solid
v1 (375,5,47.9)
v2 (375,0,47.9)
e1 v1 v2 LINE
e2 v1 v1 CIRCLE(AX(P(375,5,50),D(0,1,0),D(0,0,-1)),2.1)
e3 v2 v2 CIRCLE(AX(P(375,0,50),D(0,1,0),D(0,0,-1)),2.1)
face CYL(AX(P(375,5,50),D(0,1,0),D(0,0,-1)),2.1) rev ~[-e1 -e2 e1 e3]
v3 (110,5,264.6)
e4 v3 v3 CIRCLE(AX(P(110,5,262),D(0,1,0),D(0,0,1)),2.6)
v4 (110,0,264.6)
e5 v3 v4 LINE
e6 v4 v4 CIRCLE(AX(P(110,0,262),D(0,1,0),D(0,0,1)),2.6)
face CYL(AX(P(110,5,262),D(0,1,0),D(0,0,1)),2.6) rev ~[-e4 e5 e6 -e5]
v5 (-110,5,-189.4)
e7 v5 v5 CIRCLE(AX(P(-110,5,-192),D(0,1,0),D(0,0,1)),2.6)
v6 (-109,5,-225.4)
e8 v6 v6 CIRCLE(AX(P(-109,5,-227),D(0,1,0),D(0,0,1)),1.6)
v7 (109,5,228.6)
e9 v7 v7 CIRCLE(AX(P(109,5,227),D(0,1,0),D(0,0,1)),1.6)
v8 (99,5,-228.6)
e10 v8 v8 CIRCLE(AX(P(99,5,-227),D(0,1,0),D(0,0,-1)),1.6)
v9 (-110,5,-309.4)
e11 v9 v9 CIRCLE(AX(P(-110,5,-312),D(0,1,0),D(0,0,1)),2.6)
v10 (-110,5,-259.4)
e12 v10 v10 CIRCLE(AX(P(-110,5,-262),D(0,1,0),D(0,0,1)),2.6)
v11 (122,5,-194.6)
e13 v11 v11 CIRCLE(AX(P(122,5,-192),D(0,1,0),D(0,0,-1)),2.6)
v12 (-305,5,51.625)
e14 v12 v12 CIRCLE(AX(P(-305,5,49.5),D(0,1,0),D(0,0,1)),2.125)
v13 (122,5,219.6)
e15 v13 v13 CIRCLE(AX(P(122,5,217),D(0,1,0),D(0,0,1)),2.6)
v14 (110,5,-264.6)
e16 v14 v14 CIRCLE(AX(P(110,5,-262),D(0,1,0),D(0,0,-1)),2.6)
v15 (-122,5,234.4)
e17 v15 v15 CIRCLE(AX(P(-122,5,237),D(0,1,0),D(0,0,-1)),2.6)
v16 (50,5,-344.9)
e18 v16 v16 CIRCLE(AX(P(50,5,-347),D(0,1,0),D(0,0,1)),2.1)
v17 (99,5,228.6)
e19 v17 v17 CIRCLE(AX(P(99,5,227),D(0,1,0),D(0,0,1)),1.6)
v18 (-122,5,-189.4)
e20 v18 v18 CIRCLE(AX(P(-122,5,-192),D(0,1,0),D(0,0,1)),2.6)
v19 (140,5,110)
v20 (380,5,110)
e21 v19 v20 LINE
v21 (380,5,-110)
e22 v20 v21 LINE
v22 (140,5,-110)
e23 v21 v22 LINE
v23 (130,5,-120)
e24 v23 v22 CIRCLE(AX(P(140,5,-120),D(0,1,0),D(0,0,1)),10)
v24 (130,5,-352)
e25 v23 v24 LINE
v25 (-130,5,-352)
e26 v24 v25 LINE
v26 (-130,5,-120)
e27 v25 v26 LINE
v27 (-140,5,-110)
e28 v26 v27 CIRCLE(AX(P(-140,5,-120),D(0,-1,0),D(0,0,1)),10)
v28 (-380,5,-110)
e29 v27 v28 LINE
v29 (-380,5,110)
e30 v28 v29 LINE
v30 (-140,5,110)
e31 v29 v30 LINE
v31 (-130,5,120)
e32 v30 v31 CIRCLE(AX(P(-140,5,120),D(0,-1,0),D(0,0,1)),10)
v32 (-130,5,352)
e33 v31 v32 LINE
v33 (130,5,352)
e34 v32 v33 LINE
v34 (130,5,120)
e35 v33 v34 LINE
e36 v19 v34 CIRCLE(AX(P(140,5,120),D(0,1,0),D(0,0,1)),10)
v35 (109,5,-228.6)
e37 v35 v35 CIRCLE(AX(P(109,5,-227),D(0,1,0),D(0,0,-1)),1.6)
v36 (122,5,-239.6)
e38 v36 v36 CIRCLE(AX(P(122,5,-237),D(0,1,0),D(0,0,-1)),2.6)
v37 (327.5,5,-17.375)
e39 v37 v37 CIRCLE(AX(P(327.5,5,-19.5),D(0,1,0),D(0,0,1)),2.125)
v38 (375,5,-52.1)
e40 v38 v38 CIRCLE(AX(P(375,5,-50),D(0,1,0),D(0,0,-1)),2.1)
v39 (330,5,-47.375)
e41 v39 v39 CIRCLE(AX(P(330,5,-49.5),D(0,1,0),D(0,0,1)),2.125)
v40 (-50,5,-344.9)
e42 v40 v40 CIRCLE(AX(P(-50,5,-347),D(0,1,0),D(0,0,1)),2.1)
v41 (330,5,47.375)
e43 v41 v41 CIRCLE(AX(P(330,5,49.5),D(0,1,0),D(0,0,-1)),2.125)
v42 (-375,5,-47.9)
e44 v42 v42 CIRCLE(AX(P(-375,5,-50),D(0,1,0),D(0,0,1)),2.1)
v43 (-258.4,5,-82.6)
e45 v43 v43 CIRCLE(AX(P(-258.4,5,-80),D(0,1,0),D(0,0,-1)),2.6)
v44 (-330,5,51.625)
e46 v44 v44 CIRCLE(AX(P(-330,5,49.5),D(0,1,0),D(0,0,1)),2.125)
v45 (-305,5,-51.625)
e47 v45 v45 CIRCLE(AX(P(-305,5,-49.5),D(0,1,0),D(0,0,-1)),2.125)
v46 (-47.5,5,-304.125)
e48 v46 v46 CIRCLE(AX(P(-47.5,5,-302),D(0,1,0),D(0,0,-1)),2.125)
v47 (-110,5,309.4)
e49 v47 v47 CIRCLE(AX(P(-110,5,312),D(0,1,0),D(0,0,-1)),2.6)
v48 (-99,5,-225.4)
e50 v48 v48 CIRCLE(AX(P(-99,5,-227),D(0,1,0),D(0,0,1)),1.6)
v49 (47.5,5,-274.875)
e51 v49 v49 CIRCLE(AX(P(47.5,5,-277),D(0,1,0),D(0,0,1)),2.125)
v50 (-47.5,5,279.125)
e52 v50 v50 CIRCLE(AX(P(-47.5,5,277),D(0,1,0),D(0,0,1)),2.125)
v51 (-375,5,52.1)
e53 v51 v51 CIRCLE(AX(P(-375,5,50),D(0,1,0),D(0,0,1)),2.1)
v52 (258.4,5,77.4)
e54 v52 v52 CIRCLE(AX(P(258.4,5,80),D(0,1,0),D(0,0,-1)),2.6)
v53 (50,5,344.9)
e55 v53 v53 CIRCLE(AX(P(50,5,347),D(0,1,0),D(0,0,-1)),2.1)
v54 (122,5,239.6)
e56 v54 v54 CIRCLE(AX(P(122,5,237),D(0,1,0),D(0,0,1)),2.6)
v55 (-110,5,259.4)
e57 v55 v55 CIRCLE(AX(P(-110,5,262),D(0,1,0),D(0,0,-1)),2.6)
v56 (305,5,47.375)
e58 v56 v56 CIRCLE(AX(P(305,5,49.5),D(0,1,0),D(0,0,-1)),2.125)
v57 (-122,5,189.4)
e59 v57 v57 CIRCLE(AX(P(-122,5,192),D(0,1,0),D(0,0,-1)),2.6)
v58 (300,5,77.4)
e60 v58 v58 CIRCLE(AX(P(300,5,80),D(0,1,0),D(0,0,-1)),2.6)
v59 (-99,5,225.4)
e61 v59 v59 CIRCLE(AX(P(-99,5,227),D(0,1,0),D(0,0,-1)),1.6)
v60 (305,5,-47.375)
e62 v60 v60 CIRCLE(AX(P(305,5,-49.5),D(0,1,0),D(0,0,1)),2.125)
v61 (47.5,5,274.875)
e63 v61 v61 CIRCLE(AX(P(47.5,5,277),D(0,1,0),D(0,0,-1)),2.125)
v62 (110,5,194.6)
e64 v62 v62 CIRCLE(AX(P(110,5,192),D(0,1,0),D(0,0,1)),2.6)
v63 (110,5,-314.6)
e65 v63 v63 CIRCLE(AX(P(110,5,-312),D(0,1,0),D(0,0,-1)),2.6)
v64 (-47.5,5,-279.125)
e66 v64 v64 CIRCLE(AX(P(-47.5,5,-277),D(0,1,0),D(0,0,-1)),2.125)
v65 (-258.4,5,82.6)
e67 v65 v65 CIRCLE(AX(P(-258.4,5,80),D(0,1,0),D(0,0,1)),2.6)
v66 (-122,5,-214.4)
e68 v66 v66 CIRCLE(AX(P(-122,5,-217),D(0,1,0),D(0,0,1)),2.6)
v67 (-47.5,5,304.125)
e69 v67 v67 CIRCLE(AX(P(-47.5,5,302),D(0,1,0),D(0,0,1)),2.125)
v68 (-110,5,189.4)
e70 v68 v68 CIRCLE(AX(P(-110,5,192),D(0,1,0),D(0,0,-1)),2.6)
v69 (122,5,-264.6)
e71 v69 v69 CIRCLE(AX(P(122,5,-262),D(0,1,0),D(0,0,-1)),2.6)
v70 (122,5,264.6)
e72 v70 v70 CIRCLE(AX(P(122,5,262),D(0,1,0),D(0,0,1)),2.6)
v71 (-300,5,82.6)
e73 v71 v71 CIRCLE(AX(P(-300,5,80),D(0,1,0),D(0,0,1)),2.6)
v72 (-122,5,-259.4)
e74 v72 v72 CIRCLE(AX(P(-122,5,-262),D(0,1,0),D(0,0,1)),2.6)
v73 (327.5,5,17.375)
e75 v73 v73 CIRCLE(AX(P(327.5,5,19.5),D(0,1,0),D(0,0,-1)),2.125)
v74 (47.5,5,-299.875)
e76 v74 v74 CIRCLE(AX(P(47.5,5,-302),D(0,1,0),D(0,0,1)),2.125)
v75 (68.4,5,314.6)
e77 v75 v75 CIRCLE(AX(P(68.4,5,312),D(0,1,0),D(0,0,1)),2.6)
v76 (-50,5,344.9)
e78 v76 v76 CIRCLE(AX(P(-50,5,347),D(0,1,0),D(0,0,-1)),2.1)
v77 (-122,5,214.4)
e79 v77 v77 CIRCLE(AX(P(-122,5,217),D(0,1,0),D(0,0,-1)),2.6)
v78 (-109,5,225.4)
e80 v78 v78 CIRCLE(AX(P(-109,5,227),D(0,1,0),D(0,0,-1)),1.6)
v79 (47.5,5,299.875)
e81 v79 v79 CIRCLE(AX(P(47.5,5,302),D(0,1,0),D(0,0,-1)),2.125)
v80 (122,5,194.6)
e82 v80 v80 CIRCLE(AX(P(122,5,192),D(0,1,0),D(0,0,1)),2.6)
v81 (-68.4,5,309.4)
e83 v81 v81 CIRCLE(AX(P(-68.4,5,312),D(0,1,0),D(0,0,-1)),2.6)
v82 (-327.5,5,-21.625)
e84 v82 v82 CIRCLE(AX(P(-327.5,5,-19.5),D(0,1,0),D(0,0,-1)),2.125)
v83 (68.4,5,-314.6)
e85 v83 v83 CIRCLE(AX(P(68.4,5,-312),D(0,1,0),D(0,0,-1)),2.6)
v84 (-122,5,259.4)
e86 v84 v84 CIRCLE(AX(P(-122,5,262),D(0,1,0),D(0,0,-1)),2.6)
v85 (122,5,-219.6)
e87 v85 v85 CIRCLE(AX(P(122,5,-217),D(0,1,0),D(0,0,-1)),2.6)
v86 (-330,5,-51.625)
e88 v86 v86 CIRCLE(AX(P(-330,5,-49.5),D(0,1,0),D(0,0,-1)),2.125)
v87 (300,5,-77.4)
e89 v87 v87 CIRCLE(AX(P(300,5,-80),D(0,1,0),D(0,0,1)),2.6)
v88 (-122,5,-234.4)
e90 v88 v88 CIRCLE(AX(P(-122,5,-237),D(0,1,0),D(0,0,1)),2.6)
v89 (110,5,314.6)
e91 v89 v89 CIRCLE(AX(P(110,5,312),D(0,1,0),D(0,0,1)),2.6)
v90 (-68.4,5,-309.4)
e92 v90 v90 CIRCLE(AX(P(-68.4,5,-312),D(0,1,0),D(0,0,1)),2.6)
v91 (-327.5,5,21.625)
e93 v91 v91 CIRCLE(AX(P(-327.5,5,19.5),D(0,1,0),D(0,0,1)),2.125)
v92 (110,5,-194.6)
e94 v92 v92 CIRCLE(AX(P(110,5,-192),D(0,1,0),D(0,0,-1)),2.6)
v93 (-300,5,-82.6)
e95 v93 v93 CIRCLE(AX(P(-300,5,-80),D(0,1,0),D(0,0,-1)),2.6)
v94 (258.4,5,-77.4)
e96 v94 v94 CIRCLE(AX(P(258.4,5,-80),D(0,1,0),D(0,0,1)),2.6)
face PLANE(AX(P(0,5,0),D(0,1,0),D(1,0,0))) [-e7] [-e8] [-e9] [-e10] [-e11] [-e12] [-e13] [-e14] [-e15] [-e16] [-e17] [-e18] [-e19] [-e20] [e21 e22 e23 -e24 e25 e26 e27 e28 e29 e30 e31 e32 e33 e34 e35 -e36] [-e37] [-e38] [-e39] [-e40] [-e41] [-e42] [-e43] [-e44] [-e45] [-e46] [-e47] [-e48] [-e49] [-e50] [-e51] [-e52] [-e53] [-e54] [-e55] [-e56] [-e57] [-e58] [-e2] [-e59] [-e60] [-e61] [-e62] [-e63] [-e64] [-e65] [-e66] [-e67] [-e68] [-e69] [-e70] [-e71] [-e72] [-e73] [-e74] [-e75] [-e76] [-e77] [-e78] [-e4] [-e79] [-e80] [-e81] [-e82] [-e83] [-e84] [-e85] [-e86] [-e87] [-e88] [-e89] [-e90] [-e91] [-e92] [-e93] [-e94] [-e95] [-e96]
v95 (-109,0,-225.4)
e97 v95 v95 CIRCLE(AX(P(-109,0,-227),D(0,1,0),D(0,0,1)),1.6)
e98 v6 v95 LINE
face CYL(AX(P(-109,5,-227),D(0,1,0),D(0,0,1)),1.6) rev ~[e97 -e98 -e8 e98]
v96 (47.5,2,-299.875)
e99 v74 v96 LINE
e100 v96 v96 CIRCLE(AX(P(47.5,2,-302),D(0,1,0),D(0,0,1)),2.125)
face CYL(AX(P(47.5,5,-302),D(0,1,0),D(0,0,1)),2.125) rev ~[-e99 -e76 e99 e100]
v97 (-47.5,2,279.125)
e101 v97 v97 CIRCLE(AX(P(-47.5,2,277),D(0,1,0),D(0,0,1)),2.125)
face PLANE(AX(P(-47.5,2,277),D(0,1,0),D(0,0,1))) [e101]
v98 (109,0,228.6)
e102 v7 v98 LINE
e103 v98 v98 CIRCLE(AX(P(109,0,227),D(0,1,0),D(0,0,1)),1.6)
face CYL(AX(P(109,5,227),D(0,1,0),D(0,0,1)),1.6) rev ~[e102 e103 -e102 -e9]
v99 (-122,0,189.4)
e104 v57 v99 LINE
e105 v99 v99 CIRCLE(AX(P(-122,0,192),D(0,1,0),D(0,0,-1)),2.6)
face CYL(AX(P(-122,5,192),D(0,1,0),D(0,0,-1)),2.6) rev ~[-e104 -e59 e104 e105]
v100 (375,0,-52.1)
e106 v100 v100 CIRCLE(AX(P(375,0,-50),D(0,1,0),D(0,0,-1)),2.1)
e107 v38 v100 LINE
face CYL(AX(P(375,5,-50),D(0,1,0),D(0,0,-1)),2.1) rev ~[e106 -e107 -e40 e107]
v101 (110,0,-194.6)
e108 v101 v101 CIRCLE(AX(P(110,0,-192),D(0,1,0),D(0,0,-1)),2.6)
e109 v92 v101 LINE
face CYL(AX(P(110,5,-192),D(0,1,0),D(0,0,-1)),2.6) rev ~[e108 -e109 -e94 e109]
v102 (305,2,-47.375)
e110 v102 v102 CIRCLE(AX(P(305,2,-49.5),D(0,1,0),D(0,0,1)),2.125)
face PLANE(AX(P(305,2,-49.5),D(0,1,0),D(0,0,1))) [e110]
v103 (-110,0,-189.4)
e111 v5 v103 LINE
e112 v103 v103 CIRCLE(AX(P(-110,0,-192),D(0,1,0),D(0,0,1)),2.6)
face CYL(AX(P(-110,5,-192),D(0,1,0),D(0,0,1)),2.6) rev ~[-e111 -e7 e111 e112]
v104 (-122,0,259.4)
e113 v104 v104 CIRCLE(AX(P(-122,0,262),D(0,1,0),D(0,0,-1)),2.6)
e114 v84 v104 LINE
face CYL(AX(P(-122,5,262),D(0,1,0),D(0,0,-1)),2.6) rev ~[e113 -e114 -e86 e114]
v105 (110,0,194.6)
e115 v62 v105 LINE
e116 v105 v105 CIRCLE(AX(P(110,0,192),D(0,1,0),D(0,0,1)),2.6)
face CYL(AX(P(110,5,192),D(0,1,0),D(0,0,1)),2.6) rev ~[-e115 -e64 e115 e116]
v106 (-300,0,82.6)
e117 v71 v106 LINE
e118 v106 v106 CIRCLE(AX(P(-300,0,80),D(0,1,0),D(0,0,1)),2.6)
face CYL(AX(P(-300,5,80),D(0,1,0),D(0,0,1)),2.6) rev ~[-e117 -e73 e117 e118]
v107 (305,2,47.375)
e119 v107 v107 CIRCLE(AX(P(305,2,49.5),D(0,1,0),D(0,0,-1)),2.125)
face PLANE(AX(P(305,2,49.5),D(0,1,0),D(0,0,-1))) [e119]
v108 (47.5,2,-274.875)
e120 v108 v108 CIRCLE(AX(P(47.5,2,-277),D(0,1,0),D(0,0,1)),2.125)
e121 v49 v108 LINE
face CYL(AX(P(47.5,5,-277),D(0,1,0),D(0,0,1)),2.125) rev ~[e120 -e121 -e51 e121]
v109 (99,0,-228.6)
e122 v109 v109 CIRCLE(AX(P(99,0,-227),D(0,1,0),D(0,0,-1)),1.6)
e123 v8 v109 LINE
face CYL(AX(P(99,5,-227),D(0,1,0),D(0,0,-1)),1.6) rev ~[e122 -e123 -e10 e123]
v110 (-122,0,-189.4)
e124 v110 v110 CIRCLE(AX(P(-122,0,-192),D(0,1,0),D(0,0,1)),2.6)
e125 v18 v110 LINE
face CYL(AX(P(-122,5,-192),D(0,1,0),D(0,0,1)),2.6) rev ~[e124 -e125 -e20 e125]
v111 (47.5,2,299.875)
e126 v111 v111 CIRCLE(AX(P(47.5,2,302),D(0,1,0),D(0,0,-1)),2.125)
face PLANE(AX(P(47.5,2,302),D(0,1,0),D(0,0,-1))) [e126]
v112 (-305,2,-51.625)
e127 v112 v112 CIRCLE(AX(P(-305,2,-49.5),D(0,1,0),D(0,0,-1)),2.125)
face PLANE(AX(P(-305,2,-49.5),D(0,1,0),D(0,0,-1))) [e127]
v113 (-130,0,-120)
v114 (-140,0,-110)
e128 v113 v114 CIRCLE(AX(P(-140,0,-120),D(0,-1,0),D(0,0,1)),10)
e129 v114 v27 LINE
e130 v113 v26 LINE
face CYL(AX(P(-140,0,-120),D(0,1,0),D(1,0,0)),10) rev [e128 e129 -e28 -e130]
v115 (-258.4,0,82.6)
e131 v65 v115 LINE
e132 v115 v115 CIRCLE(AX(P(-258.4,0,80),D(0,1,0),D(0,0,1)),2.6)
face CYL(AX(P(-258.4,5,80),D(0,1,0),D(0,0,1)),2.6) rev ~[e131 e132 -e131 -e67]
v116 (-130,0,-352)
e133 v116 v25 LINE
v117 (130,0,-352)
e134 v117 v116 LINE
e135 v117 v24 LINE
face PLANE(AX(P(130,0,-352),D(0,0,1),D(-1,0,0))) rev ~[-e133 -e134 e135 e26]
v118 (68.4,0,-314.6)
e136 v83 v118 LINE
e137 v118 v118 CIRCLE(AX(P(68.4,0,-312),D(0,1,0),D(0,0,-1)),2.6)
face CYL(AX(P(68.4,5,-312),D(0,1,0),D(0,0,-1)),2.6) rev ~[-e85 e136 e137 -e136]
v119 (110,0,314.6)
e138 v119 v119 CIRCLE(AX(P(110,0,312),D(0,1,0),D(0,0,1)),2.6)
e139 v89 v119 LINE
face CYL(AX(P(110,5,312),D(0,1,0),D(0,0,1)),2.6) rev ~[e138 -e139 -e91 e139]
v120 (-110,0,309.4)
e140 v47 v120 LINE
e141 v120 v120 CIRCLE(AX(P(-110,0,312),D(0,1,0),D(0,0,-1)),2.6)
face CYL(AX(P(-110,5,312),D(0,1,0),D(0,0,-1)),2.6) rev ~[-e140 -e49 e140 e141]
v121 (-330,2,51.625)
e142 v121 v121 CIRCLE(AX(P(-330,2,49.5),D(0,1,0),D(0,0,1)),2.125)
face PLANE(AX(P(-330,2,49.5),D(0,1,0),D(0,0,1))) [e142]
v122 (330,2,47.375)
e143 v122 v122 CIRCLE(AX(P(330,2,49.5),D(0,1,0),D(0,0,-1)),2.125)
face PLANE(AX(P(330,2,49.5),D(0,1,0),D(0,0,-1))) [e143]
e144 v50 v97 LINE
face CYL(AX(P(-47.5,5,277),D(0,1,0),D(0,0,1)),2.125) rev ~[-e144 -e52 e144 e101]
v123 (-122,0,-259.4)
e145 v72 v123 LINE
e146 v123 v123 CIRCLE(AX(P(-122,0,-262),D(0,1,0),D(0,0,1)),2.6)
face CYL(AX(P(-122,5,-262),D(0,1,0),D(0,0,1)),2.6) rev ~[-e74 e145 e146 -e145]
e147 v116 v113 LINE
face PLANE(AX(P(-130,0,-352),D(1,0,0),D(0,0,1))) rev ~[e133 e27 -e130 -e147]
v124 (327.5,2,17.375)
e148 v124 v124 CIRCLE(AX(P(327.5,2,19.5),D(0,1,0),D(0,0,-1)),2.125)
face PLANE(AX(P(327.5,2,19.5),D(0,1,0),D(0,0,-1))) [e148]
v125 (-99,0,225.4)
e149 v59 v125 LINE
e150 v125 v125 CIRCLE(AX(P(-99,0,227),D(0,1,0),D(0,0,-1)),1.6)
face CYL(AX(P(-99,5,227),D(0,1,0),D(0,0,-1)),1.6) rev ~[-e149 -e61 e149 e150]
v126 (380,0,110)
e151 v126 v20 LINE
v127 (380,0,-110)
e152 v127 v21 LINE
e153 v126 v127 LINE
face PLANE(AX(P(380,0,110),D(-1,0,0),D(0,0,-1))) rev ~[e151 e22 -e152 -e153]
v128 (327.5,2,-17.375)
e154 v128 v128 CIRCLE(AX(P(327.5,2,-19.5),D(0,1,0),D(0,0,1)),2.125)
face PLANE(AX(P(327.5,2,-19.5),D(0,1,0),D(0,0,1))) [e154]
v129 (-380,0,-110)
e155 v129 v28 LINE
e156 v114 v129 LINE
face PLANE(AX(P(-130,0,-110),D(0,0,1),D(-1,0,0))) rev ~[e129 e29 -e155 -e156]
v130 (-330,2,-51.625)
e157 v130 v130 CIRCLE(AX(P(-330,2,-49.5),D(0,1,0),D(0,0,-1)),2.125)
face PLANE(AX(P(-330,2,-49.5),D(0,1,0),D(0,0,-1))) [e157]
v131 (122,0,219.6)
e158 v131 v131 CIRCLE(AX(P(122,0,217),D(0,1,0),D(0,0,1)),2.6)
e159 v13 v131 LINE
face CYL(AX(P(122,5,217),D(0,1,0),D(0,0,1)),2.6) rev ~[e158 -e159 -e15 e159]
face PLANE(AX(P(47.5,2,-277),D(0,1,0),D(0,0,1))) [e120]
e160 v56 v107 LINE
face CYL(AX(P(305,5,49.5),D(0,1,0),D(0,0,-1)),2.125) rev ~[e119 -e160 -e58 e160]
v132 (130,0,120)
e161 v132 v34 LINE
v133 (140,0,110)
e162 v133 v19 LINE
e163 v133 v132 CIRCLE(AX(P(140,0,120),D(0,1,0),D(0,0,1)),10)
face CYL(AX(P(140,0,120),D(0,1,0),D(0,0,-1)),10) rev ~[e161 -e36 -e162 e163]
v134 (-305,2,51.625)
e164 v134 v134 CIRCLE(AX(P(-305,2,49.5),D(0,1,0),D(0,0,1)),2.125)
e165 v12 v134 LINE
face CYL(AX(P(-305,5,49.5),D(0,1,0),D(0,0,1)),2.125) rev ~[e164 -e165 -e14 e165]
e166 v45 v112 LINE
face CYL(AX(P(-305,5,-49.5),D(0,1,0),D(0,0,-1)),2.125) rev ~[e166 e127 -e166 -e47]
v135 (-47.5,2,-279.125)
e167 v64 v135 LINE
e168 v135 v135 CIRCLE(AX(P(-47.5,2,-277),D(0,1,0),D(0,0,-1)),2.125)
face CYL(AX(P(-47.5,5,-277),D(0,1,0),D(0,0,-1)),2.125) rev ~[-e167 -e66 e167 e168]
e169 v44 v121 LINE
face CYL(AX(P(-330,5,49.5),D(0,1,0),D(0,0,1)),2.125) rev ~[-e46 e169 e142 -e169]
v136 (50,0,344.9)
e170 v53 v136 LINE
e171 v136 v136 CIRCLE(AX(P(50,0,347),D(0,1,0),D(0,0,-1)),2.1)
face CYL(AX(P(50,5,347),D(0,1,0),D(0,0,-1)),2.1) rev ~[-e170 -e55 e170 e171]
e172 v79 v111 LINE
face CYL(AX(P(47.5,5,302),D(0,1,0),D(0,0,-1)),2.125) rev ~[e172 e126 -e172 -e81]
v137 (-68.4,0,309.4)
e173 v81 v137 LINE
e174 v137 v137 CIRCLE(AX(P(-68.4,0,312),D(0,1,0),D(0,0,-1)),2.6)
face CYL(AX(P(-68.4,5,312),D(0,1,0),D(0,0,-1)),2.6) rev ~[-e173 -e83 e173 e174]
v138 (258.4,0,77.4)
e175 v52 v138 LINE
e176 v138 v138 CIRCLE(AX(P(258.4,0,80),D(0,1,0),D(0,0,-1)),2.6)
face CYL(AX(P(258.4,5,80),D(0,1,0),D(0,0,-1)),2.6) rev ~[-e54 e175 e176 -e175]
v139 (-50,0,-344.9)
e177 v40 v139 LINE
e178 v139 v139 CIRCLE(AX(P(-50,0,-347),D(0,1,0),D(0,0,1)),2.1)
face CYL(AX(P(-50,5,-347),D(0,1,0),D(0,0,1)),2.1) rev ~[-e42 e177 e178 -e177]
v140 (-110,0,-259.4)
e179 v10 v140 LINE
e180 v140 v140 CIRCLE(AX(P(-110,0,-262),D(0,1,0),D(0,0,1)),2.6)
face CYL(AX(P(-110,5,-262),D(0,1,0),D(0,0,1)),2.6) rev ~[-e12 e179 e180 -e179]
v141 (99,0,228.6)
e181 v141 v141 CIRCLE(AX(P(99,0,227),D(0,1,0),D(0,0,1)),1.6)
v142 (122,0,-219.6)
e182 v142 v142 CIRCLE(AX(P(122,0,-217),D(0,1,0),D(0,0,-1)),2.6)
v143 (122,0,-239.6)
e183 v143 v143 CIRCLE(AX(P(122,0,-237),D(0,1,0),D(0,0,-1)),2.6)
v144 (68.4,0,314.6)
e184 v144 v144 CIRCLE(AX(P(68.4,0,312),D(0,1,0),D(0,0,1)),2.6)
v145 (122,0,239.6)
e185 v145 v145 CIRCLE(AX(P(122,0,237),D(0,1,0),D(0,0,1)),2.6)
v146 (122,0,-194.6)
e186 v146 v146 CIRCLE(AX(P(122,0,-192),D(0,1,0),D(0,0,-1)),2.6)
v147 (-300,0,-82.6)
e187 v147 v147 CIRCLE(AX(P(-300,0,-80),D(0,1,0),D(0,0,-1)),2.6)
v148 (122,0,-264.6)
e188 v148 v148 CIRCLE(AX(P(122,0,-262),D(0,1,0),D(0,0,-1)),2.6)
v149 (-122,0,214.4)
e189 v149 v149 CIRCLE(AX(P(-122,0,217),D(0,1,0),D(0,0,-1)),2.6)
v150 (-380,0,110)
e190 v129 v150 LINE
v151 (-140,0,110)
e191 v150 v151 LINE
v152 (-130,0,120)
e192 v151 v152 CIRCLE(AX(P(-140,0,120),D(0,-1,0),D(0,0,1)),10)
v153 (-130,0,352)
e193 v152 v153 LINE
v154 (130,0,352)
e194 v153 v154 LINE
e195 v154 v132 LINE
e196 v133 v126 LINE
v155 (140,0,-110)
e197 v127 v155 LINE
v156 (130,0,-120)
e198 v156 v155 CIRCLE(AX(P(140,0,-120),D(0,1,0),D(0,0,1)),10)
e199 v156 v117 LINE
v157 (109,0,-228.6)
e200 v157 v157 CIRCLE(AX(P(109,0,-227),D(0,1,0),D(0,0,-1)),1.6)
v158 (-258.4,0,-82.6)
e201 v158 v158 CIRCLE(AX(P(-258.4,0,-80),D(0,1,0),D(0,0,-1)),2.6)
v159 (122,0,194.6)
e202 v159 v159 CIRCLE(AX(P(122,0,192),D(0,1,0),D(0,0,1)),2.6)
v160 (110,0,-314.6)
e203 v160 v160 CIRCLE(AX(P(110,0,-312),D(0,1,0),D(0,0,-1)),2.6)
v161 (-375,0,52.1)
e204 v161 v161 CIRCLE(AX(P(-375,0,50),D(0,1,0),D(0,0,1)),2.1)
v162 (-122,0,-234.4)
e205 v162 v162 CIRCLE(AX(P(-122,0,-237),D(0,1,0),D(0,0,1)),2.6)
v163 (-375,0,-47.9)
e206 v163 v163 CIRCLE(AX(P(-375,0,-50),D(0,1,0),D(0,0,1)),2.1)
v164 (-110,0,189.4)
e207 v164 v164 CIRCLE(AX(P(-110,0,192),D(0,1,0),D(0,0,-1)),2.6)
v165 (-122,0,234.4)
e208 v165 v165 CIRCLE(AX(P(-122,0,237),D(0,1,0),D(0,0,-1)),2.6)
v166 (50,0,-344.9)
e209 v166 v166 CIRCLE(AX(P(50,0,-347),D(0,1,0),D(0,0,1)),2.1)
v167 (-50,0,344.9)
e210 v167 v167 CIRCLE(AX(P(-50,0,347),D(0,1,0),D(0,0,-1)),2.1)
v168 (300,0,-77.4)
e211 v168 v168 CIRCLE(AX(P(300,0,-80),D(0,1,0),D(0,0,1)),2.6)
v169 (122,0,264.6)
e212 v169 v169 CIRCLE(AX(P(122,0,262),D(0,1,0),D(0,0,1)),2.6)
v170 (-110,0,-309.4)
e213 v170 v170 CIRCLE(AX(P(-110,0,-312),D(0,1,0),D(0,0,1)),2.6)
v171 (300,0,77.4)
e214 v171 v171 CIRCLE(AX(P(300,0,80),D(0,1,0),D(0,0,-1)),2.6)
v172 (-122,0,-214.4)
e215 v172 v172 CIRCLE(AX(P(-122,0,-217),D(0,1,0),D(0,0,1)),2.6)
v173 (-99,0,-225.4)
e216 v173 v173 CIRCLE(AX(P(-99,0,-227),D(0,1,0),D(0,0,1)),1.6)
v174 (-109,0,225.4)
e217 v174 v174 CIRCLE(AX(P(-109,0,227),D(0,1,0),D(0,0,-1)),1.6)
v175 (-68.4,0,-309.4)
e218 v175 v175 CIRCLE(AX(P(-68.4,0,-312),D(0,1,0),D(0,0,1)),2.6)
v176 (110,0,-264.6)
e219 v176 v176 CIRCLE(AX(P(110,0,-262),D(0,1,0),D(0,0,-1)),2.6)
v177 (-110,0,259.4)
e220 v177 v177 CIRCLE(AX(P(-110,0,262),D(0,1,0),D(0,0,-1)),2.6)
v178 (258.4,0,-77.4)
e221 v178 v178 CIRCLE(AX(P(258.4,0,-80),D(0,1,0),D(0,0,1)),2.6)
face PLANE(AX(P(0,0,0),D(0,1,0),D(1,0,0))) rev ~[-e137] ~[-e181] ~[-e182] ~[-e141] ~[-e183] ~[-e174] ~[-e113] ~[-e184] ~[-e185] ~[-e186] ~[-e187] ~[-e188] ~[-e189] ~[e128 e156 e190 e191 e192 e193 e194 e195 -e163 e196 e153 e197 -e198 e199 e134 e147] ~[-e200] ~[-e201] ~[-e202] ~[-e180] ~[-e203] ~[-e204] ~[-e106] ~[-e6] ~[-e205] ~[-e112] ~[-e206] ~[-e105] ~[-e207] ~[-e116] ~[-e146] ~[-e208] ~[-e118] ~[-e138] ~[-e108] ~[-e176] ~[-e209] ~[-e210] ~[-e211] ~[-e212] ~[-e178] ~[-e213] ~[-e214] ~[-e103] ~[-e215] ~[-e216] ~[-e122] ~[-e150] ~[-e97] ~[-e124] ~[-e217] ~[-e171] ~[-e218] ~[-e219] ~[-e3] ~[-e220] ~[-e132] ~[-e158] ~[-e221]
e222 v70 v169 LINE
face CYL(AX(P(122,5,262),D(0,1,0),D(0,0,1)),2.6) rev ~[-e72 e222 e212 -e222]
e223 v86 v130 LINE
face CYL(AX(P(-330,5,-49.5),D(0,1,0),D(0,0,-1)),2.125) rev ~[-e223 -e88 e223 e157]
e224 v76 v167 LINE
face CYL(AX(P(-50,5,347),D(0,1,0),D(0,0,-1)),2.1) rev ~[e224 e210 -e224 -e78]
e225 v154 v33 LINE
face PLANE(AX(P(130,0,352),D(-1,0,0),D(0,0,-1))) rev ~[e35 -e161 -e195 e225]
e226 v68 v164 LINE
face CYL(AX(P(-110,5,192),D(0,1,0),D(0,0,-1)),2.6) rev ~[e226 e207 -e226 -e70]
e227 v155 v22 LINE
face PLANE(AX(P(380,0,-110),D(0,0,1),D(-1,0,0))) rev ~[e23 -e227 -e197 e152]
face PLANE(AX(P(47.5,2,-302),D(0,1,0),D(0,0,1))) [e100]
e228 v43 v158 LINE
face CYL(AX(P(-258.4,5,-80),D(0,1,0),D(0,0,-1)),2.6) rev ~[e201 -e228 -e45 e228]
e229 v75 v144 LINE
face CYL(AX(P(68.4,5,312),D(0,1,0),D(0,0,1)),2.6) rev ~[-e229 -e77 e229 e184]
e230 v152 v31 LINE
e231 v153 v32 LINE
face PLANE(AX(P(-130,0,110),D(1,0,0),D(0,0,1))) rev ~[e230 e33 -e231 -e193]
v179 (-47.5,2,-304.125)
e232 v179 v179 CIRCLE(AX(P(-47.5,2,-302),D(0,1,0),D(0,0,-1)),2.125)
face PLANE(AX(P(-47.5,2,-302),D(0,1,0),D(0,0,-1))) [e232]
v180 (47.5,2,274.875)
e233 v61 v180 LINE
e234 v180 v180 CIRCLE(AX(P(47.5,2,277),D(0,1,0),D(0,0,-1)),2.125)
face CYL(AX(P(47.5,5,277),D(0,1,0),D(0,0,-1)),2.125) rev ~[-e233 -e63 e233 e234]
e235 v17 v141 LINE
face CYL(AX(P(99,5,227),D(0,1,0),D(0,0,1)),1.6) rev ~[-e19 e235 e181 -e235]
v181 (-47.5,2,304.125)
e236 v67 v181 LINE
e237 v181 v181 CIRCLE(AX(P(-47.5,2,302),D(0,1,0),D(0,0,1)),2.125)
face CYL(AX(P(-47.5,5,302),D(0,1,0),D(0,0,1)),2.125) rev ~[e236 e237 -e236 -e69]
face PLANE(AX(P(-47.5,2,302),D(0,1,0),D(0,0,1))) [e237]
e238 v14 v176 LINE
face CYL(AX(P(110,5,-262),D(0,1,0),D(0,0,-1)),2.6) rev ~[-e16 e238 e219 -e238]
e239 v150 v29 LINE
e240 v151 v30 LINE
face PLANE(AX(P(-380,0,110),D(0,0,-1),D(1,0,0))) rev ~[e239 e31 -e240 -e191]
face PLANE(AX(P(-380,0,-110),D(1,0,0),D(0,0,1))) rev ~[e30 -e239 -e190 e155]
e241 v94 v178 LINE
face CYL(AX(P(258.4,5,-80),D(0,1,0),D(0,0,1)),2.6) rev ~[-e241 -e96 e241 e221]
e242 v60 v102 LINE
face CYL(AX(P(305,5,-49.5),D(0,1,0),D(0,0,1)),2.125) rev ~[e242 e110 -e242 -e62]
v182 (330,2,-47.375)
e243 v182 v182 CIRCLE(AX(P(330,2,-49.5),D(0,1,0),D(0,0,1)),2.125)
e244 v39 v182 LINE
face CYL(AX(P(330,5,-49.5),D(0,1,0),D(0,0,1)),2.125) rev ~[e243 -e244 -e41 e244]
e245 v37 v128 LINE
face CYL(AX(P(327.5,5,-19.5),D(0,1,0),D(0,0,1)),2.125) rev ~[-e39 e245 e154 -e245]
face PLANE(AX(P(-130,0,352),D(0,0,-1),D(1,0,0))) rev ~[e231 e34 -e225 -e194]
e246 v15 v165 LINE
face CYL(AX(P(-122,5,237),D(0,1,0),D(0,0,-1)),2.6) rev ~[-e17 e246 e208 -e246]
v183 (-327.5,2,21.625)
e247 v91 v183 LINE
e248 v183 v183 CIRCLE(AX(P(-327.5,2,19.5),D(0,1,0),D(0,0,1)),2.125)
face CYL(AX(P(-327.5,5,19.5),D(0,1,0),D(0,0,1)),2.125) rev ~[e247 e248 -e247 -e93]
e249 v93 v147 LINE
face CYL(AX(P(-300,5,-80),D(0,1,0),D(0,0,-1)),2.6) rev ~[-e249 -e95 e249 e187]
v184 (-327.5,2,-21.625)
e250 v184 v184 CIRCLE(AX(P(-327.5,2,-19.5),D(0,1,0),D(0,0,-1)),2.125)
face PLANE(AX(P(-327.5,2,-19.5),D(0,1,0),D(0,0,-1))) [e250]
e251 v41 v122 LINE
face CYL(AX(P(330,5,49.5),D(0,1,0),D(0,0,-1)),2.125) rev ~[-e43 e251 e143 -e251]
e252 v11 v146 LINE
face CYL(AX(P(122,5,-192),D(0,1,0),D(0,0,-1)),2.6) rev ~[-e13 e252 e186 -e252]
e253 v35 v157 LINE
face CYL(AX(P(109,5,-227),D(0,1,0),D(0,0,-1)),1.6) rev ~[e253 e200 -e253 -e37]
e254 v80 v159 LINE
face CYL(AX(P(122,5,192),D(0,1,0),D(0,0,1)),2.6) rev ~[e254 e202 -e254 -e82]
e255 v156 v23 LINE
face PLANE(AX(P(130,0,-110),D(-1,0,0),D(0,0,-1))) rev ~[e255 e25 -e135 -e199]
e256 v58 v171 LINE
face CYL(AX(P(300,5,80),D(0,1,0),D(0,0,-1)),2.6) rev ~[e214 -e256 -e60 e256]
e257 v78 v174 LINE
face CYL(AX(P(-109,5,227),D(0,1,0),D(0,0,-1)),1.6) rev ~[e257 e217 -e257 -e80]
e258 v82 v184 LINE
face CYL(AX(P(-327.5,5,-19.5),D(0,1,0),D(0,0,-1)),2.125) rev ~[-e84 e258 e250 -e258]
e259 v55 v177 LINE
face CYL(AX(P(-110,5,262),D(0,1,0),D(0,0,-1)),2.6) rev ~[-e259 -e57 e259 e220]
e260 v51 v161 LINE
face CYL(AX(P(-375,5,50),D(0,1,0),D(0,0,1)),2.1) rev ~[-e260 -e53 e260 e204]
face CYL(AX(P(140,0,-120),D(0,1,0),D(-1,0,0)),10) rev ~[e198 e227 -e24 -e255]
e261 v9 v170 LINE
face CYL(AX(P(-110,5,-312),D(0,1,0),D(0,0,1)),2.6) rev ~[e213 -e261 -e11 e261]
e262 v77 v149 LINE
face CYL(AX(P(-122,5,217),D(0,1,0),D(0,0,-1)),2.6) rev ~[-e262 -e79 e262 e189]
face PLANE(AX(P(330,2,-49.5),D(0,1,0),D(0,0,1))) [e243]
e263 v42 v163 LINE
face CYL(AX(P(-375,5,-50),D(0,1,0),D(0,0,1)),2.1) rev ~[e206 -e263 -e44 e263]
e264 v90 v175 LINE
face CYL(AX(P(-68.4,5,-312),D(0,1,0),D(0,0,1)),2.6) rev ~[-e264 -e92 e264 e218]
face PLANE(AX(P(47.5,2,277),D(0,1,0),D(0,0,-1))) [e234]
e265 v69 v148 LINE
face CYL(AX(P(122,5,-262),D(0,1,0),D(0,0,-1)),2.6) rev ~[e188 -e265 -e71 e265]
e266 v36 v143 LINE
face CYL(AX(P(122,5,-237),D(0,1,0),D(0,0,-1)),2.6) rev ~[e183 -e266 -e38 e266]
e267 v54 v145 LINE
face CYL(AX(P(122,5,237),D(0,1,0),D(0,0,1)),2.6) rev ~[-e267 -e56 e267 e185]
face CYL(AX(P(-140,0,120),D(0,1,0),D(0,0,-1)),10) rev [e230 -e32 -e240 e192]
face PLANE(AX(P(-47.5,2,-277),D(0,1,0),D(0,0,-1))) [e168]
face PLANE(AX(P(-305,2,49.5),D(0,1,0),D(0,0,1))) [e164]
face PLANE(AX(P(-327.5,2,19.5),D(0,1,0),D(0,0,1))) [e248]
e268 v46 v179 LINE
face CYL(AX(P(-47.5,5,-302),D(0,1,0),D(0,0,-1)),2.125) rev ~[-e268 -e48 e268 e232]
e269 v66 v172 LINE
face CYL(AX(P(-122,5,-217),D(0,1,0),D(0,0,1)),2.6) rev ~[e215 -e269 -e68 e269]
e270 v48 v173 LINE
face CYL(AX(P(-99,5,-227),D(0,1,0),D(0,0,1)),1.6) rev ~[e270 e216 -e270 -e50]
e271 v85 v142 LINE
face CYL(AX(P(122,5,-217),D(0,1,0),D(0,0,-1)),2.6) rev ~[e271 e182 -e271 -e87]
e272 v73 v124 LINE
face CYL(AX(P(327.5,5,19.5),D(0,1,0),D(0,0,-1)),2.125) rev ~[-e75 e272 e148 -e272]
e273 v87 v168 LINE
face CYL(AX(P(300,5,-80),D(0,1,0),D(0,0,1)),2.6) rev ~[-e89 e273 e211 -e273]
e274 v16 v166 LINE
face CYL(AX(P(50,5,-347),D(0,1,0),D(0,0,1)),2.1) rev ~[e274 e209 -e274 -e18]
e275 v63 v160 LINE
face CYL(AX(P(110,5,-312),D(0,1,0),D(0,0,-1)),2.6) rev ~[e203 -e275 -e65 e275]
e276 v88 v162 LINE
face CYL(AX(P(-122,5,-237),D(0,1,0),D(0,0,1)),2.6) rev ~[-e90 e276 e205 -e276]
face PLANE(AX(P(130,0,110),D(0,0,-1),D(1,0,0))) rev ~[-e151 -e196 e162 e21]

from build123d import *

# Parameters (mm, degrees)
BOSS_EXTRUDE1_DEPTH = 5
SKETCH2_R           = 2.125
CUT_EXTRUDE1_DEPTH  = 3
SKETCH4_R           = 2.6
SKETCH4_R_2         = 1.6
CUT_EXTRUDE3_DEPTH  = 10
SKETCH5_R           = 2.1
CUT_EXTRUDE4_DEPTH  = 10
FILLET1_R           = 10
SKETCH6_R           = 2.6
CUT_EXTRUDE5_DEPTH  = 10


with BuildPart() as part:
    # Sketch1 → Boss-Extrude1 (new body)
    with BuildSketch(Plane(origin=(0, 0, 0), x_dir=(1, 0, 0), z_dir=(0, 1, 0))):
        Polygon((130, 352), (-130, 352), (-130, 110), (-380, 110), (-380, -110), (-130, -110), (-130, -352), (130, -352), (130, -110), (380, -110), (380, 110), (130, 110), align=None)
    extrude(amount=BOSS_EXTRUDE1_DEPTH)

    # Sketch2 → Cut-Extrude1 (cut)
    with BuildSketch(Plane(origin=(0, 5, 0), x_dir=(1, 0, 0), z_dir=(0, 1, 0))):
        with Locations(Location((330, 49.5, 0), (0, 0, 270))):
            Circle(SKETCH2_R)
        with Locations(Location((305, 49.5, 0), (0, 0, 270))):
            Circle(SKETCH2_R)
        with Locations(Location((327.5, 19.5, 0), (0, 0, 270))):
            Circle(SKETCH2_R)
        with Locations(Location((327.5, -19.5, 0), (0, 0, 90))):
            Circle(SKETCH2_R)
        with Locations(Location((305, -49.5, 0), (0, 0, 90))):
            Circle(SKETCH2_R)
        with Locations(Location((330, -49.5, 0), (0, 0, 90))):
            Circle(SKETCH2_R)
        with Locations(Location((-330, -49.5, 0), (0, 0, 270))):
            Circle(SKETCH2_R)
        with Locations(Location((-305, -49.5, 0), (0, 0, 270))):
            Circle(SKETCH2_R)
        with Locations(Location((-327.5, -19.5, 0), (0, 0, 270))):
            Circle(SKETCH2_R)
        with Locations(Location((-327.5, 19.5, 0), (0, 0, 90))):
            Circle(SKETCH2_R)
        with Locations(Location((-305, 49.5, 0), (0, 0, 90))):
            Circle(SKETCH2_R)
        with Locations(Location((-330, 49.5, 0), (0, 0, 90))):
            Circle(SKETCH2_R)
        with Locations(Location((47.5, 302, 0), (0, 0, 270))):
            Circle(SKETCH2_R)
        with Locations(Location((47.5, 277, 0), (0, 0, 270))):
            Circle(SKETCH2_R)
        with Locations(Location((-47.5, 277, 0), (0, 0, 90))):
            Circle(SKETCH2_R)
        with Locations(Location((-47.5, 302, 0), (0, 0, 90))):
            Circle(SKETCH2_R)
        with Locations(Location((-47.5, -302, 0), (0, 0, 270))):
            Circle(SKETCH2_R)
        with Locations(Location((-47.5, -277, 0), (0, 0, 270))):
            Circle(SKETCH2_R)
        with Locations(Location((47.5, -277, 0), (0, 0, 90))):
            Circle(SKETCH2_R)
        with Locations(Location((47.5, -302, 0), (0, 0, 90))):
            Circle(SKETCH2_R)
    extrude(amount=-CUT_EXTRUDE1_DEPTH, mode=Mode.SUBTRACT)

    # Sketch4 → Cut-Extrude3 (cut)
    with BuildSketch(Plane(origin=(0, 5, 0), x_dir=(1, 0, 0), z_dir=(0, 1, 0))):
        with Locations(Location((-122, 192, 0), (0, 0, 270))):
            Circle(SKETCH4_R)
        with Locations(Location((-110, 192, 0), (0, 0, 270))):
            Circle(SKETCH4_R)
        with Locations(Location((-122, 217, 0), (0, 0, 270))):
            Circle(SKETCH4_R)
        with Locations(Location((-122, 237, 0), (0, 0, 270))):
            Circle(SKETCH4_R)
        with Locations(Location((-122, 262, 0), (0, 0, 270))):
            Circle(SKETCH4_R)
        with Locations(Location((-110, 262, 0), (0, 0, 270))):
            Circle(SKETCH4_R)
        with Locations(Location((110, 262, 0), (0, 0, 90))):
            Circle(SKETCH4_R)
        with Locations(Location((122, 262, 0), (0, 0, 90))):
            Circle(SKETCH4_R)
        with Locations(Location((122, 237, 0), (0, 0, 90))):
            Circle(SKETCH4_R)
        with Locations(Location((122, 217, 0), (0, 0, 90))):
            Circle(SKETCH4_R)
        with Locations(Location((110, 192, 0), (0, 0, 90))):
            Circle(SKETCH4_R)
        with Locations(Location((122, 192, 0), (0, 0, 90))):
            Circle(SKETCH4_R)
        with Locations(Location((122, -192, 0), (0, 0, 270))):
            Circle(SKETCH4_R)
        with Locations(Location((110, -192, 0), (0, 0, 270))):
            Circle(SKETCH4_R)
        with Locations(Location((122, -217, 0), (0, 0, 270))):
            Circle(SKETCH4_R)
        with Locations(Location((122, -237, 0), (0, 0, 270))):
            Circle(SKETCH4_R)
        with Locations(Location((122, -262, 0), (0, 0, 270))):
            Circle(SKETCH4_R)
        with Locations(Location((110, -262, 0), (0, 0, 270))):
            Circle(SKETCH4_R)
        with Locations(Location((-110, -262, 0), (0, 0, 90))):
            Circle(SKETCH4_R)
        with Locations(Location((-122, -262, 0), (0, 0, 90))):
            Circle(SKETCH4_R)
        with Locations(Location((-122, -237, 0), (0, 0, 90))):
            Circle(SKETCH4_R)
        with Locations(Location((-122, -217, 0), (0, 0, 90))):
            Circle(SKETCH4_R)
        with Locations(Location((-110, -192, 0), (0, 0, 90))):
            Circle(SKETCH4_R)
        with Locations(Location((-122, -192, 0), (0, 0, 90))):
            Circle(SKETCH4_R)
        with Locations(Location((109, -227, 0), (0, 0, 270))):
            Circle(SKETCH4_R_2)
        with Locations(Location((-109, -227, 0), (0, 0, 90))):
            Circle(SKETCH4_R_2)
        with Locations(Location((109, 227, 0), (0, 0, 90))):
            Circle(SKETCH4_R_2)
        with Locations(Location((-109, 227, 0), (0, 0, 270))):
            Circle(SKETCH4_R_2)
        with Locations(Location((99, -227, 0), (0, 0, 270))):
            Circle(SKETCH4_R_2)
        with Locations(Location((-99, -227, 0), (0, 0, 90))):
            Circle(SKETCH4_R_2)
        with Locations(Location((99, 227, 0), (0, 0, 90))):
            Circle(SKETCH4_R_2)
        with Locations(Location((-99, 227, 0), (0, 0, 270))):
            Circle(SKETCH4_R_2)
    extrude(amount=-CUT_EXTRUDE3_DEPTH, mode=Mode.SUBTRACT)

    # Sketch5 → Cut-Extrude4 (cut)
    with BuildSketch(Plane(origin=(0, 5, 0), x_dir=(1, 0, 0), z_dir=(0, 1, 0))):
        with Locations(Location((-50, 347, 0), (0, 0, 270))):
            Circle(SKETCH5_R)
        with Locations(Location((50, 347, 0), (0, 0, 270))):
            Circle(SKETCH5_R)
        with Locations(Location((50, -347, 0), (0, 0, 90))):
            Circle(SKETCH5_R)
        with Locations(Location((-50, -347, 0), (0, 0, 90))):
            Circle(SKETCH5_R)
        with Locations(Location((-375, 50, 0), (0, 0, 270))):
            Circle(SKETCH5_R)
        with Locations(Location((-375, -50, 0), (0, 0, 270))):
            Circle(SKETCH5_R)
        with Locations(Location((375, -50, 0), (0, 0, 90))):
            Circle(SKETCH5_R)
        with Locations(Location((375, 50, 0), (0, 0, 90))):
            Circle(SKETCH5_R)
    extrude(amount=-CUT_EXTRUDE4_DEPTH, mode=Mode.SUBTRACT)

    # Fillet1
    fillet1_edges = [part.edges().sort_by_distance(p)[0] for p in [
        (130, 2.5, -110),
        (130, 2.5, 110),
        (-130, 2.5, 110),
        (-130, 2.5, -110),
    ]]
    fillet(fillet1_edges, radius=FILLET1_R)

    # Sketch6 → Cut-Extrude5 (cut)
    with BuildSketch(Plane(origin=(0, 5, 0), x_dir=(1, 0, 0), z_dir=(0, 1, 0))):
        with Locations(Location((-110, 312, 0), (0, 0, 270))):
            Circle(SKETCH6_R)
        with Locations(Location((-68.4, 312, 0), (0, 0, 270))):
            Circle(SKETCH6_R)
        with Locations(Location((68.4, 312, 0), (0, 0, 90))):
            Circle(SKETCH6_R)
        with Locations(Location((110, 312, 0), (0, 0, 90))):
            Circle(SKETCH6_R)
        with Locations(Location((110, -312, 0), (0, 0, 270))):
            Circle(SKETCH6_R)
        with Locations(Location((68.4, -312, 0), (0, 0, 270))):
            Circle(SKETCH6_R)
        with Locations(Location((-68.4, -312, 0), (0, 0, 90))):
            Circle(SKETCH6_R)
        with Locations(Location((-110, -312, 0), (0, 0, 90))):
            Circle(SKETCH6_R)
        with Locations(Location((258.4, 80, 0), (0, 0, 270))):
            Circle(SKETCH6_R)
        with Locations(Location((300, 80, 0), (0, 0, 270))):
            Circle(SKETCH6_R)
        with Locations(Location((300, -80, 0), (0, 0, 90))):
            Circle(SKETCH6_R)
        with Locations(Location((258.4, -80, 0), (0, 0, 90))):
            Circle(SKETCH6_R)
        with Locations(Location((-258.4, -80, 0), (0, 0, 270))):
            Circle(SKETCH6_R)
        with Locations(Location((-300, -80, 0), (0, 0, 270))):
            Circle(SKETCH6_R)
        with Locations(Location((-300, 80, 0), (0, 0, 90))):
            Circle(SKETCH6_R)
        with Locations(Location((-258.4, 80, 0), (0, 0, 90))):
            Circle(SKETCH6_R)
    extrude(amount=-CUT_EXTRUDE5_DEPTH, mode=Mode.SUBTRACT)


solid = part.part
